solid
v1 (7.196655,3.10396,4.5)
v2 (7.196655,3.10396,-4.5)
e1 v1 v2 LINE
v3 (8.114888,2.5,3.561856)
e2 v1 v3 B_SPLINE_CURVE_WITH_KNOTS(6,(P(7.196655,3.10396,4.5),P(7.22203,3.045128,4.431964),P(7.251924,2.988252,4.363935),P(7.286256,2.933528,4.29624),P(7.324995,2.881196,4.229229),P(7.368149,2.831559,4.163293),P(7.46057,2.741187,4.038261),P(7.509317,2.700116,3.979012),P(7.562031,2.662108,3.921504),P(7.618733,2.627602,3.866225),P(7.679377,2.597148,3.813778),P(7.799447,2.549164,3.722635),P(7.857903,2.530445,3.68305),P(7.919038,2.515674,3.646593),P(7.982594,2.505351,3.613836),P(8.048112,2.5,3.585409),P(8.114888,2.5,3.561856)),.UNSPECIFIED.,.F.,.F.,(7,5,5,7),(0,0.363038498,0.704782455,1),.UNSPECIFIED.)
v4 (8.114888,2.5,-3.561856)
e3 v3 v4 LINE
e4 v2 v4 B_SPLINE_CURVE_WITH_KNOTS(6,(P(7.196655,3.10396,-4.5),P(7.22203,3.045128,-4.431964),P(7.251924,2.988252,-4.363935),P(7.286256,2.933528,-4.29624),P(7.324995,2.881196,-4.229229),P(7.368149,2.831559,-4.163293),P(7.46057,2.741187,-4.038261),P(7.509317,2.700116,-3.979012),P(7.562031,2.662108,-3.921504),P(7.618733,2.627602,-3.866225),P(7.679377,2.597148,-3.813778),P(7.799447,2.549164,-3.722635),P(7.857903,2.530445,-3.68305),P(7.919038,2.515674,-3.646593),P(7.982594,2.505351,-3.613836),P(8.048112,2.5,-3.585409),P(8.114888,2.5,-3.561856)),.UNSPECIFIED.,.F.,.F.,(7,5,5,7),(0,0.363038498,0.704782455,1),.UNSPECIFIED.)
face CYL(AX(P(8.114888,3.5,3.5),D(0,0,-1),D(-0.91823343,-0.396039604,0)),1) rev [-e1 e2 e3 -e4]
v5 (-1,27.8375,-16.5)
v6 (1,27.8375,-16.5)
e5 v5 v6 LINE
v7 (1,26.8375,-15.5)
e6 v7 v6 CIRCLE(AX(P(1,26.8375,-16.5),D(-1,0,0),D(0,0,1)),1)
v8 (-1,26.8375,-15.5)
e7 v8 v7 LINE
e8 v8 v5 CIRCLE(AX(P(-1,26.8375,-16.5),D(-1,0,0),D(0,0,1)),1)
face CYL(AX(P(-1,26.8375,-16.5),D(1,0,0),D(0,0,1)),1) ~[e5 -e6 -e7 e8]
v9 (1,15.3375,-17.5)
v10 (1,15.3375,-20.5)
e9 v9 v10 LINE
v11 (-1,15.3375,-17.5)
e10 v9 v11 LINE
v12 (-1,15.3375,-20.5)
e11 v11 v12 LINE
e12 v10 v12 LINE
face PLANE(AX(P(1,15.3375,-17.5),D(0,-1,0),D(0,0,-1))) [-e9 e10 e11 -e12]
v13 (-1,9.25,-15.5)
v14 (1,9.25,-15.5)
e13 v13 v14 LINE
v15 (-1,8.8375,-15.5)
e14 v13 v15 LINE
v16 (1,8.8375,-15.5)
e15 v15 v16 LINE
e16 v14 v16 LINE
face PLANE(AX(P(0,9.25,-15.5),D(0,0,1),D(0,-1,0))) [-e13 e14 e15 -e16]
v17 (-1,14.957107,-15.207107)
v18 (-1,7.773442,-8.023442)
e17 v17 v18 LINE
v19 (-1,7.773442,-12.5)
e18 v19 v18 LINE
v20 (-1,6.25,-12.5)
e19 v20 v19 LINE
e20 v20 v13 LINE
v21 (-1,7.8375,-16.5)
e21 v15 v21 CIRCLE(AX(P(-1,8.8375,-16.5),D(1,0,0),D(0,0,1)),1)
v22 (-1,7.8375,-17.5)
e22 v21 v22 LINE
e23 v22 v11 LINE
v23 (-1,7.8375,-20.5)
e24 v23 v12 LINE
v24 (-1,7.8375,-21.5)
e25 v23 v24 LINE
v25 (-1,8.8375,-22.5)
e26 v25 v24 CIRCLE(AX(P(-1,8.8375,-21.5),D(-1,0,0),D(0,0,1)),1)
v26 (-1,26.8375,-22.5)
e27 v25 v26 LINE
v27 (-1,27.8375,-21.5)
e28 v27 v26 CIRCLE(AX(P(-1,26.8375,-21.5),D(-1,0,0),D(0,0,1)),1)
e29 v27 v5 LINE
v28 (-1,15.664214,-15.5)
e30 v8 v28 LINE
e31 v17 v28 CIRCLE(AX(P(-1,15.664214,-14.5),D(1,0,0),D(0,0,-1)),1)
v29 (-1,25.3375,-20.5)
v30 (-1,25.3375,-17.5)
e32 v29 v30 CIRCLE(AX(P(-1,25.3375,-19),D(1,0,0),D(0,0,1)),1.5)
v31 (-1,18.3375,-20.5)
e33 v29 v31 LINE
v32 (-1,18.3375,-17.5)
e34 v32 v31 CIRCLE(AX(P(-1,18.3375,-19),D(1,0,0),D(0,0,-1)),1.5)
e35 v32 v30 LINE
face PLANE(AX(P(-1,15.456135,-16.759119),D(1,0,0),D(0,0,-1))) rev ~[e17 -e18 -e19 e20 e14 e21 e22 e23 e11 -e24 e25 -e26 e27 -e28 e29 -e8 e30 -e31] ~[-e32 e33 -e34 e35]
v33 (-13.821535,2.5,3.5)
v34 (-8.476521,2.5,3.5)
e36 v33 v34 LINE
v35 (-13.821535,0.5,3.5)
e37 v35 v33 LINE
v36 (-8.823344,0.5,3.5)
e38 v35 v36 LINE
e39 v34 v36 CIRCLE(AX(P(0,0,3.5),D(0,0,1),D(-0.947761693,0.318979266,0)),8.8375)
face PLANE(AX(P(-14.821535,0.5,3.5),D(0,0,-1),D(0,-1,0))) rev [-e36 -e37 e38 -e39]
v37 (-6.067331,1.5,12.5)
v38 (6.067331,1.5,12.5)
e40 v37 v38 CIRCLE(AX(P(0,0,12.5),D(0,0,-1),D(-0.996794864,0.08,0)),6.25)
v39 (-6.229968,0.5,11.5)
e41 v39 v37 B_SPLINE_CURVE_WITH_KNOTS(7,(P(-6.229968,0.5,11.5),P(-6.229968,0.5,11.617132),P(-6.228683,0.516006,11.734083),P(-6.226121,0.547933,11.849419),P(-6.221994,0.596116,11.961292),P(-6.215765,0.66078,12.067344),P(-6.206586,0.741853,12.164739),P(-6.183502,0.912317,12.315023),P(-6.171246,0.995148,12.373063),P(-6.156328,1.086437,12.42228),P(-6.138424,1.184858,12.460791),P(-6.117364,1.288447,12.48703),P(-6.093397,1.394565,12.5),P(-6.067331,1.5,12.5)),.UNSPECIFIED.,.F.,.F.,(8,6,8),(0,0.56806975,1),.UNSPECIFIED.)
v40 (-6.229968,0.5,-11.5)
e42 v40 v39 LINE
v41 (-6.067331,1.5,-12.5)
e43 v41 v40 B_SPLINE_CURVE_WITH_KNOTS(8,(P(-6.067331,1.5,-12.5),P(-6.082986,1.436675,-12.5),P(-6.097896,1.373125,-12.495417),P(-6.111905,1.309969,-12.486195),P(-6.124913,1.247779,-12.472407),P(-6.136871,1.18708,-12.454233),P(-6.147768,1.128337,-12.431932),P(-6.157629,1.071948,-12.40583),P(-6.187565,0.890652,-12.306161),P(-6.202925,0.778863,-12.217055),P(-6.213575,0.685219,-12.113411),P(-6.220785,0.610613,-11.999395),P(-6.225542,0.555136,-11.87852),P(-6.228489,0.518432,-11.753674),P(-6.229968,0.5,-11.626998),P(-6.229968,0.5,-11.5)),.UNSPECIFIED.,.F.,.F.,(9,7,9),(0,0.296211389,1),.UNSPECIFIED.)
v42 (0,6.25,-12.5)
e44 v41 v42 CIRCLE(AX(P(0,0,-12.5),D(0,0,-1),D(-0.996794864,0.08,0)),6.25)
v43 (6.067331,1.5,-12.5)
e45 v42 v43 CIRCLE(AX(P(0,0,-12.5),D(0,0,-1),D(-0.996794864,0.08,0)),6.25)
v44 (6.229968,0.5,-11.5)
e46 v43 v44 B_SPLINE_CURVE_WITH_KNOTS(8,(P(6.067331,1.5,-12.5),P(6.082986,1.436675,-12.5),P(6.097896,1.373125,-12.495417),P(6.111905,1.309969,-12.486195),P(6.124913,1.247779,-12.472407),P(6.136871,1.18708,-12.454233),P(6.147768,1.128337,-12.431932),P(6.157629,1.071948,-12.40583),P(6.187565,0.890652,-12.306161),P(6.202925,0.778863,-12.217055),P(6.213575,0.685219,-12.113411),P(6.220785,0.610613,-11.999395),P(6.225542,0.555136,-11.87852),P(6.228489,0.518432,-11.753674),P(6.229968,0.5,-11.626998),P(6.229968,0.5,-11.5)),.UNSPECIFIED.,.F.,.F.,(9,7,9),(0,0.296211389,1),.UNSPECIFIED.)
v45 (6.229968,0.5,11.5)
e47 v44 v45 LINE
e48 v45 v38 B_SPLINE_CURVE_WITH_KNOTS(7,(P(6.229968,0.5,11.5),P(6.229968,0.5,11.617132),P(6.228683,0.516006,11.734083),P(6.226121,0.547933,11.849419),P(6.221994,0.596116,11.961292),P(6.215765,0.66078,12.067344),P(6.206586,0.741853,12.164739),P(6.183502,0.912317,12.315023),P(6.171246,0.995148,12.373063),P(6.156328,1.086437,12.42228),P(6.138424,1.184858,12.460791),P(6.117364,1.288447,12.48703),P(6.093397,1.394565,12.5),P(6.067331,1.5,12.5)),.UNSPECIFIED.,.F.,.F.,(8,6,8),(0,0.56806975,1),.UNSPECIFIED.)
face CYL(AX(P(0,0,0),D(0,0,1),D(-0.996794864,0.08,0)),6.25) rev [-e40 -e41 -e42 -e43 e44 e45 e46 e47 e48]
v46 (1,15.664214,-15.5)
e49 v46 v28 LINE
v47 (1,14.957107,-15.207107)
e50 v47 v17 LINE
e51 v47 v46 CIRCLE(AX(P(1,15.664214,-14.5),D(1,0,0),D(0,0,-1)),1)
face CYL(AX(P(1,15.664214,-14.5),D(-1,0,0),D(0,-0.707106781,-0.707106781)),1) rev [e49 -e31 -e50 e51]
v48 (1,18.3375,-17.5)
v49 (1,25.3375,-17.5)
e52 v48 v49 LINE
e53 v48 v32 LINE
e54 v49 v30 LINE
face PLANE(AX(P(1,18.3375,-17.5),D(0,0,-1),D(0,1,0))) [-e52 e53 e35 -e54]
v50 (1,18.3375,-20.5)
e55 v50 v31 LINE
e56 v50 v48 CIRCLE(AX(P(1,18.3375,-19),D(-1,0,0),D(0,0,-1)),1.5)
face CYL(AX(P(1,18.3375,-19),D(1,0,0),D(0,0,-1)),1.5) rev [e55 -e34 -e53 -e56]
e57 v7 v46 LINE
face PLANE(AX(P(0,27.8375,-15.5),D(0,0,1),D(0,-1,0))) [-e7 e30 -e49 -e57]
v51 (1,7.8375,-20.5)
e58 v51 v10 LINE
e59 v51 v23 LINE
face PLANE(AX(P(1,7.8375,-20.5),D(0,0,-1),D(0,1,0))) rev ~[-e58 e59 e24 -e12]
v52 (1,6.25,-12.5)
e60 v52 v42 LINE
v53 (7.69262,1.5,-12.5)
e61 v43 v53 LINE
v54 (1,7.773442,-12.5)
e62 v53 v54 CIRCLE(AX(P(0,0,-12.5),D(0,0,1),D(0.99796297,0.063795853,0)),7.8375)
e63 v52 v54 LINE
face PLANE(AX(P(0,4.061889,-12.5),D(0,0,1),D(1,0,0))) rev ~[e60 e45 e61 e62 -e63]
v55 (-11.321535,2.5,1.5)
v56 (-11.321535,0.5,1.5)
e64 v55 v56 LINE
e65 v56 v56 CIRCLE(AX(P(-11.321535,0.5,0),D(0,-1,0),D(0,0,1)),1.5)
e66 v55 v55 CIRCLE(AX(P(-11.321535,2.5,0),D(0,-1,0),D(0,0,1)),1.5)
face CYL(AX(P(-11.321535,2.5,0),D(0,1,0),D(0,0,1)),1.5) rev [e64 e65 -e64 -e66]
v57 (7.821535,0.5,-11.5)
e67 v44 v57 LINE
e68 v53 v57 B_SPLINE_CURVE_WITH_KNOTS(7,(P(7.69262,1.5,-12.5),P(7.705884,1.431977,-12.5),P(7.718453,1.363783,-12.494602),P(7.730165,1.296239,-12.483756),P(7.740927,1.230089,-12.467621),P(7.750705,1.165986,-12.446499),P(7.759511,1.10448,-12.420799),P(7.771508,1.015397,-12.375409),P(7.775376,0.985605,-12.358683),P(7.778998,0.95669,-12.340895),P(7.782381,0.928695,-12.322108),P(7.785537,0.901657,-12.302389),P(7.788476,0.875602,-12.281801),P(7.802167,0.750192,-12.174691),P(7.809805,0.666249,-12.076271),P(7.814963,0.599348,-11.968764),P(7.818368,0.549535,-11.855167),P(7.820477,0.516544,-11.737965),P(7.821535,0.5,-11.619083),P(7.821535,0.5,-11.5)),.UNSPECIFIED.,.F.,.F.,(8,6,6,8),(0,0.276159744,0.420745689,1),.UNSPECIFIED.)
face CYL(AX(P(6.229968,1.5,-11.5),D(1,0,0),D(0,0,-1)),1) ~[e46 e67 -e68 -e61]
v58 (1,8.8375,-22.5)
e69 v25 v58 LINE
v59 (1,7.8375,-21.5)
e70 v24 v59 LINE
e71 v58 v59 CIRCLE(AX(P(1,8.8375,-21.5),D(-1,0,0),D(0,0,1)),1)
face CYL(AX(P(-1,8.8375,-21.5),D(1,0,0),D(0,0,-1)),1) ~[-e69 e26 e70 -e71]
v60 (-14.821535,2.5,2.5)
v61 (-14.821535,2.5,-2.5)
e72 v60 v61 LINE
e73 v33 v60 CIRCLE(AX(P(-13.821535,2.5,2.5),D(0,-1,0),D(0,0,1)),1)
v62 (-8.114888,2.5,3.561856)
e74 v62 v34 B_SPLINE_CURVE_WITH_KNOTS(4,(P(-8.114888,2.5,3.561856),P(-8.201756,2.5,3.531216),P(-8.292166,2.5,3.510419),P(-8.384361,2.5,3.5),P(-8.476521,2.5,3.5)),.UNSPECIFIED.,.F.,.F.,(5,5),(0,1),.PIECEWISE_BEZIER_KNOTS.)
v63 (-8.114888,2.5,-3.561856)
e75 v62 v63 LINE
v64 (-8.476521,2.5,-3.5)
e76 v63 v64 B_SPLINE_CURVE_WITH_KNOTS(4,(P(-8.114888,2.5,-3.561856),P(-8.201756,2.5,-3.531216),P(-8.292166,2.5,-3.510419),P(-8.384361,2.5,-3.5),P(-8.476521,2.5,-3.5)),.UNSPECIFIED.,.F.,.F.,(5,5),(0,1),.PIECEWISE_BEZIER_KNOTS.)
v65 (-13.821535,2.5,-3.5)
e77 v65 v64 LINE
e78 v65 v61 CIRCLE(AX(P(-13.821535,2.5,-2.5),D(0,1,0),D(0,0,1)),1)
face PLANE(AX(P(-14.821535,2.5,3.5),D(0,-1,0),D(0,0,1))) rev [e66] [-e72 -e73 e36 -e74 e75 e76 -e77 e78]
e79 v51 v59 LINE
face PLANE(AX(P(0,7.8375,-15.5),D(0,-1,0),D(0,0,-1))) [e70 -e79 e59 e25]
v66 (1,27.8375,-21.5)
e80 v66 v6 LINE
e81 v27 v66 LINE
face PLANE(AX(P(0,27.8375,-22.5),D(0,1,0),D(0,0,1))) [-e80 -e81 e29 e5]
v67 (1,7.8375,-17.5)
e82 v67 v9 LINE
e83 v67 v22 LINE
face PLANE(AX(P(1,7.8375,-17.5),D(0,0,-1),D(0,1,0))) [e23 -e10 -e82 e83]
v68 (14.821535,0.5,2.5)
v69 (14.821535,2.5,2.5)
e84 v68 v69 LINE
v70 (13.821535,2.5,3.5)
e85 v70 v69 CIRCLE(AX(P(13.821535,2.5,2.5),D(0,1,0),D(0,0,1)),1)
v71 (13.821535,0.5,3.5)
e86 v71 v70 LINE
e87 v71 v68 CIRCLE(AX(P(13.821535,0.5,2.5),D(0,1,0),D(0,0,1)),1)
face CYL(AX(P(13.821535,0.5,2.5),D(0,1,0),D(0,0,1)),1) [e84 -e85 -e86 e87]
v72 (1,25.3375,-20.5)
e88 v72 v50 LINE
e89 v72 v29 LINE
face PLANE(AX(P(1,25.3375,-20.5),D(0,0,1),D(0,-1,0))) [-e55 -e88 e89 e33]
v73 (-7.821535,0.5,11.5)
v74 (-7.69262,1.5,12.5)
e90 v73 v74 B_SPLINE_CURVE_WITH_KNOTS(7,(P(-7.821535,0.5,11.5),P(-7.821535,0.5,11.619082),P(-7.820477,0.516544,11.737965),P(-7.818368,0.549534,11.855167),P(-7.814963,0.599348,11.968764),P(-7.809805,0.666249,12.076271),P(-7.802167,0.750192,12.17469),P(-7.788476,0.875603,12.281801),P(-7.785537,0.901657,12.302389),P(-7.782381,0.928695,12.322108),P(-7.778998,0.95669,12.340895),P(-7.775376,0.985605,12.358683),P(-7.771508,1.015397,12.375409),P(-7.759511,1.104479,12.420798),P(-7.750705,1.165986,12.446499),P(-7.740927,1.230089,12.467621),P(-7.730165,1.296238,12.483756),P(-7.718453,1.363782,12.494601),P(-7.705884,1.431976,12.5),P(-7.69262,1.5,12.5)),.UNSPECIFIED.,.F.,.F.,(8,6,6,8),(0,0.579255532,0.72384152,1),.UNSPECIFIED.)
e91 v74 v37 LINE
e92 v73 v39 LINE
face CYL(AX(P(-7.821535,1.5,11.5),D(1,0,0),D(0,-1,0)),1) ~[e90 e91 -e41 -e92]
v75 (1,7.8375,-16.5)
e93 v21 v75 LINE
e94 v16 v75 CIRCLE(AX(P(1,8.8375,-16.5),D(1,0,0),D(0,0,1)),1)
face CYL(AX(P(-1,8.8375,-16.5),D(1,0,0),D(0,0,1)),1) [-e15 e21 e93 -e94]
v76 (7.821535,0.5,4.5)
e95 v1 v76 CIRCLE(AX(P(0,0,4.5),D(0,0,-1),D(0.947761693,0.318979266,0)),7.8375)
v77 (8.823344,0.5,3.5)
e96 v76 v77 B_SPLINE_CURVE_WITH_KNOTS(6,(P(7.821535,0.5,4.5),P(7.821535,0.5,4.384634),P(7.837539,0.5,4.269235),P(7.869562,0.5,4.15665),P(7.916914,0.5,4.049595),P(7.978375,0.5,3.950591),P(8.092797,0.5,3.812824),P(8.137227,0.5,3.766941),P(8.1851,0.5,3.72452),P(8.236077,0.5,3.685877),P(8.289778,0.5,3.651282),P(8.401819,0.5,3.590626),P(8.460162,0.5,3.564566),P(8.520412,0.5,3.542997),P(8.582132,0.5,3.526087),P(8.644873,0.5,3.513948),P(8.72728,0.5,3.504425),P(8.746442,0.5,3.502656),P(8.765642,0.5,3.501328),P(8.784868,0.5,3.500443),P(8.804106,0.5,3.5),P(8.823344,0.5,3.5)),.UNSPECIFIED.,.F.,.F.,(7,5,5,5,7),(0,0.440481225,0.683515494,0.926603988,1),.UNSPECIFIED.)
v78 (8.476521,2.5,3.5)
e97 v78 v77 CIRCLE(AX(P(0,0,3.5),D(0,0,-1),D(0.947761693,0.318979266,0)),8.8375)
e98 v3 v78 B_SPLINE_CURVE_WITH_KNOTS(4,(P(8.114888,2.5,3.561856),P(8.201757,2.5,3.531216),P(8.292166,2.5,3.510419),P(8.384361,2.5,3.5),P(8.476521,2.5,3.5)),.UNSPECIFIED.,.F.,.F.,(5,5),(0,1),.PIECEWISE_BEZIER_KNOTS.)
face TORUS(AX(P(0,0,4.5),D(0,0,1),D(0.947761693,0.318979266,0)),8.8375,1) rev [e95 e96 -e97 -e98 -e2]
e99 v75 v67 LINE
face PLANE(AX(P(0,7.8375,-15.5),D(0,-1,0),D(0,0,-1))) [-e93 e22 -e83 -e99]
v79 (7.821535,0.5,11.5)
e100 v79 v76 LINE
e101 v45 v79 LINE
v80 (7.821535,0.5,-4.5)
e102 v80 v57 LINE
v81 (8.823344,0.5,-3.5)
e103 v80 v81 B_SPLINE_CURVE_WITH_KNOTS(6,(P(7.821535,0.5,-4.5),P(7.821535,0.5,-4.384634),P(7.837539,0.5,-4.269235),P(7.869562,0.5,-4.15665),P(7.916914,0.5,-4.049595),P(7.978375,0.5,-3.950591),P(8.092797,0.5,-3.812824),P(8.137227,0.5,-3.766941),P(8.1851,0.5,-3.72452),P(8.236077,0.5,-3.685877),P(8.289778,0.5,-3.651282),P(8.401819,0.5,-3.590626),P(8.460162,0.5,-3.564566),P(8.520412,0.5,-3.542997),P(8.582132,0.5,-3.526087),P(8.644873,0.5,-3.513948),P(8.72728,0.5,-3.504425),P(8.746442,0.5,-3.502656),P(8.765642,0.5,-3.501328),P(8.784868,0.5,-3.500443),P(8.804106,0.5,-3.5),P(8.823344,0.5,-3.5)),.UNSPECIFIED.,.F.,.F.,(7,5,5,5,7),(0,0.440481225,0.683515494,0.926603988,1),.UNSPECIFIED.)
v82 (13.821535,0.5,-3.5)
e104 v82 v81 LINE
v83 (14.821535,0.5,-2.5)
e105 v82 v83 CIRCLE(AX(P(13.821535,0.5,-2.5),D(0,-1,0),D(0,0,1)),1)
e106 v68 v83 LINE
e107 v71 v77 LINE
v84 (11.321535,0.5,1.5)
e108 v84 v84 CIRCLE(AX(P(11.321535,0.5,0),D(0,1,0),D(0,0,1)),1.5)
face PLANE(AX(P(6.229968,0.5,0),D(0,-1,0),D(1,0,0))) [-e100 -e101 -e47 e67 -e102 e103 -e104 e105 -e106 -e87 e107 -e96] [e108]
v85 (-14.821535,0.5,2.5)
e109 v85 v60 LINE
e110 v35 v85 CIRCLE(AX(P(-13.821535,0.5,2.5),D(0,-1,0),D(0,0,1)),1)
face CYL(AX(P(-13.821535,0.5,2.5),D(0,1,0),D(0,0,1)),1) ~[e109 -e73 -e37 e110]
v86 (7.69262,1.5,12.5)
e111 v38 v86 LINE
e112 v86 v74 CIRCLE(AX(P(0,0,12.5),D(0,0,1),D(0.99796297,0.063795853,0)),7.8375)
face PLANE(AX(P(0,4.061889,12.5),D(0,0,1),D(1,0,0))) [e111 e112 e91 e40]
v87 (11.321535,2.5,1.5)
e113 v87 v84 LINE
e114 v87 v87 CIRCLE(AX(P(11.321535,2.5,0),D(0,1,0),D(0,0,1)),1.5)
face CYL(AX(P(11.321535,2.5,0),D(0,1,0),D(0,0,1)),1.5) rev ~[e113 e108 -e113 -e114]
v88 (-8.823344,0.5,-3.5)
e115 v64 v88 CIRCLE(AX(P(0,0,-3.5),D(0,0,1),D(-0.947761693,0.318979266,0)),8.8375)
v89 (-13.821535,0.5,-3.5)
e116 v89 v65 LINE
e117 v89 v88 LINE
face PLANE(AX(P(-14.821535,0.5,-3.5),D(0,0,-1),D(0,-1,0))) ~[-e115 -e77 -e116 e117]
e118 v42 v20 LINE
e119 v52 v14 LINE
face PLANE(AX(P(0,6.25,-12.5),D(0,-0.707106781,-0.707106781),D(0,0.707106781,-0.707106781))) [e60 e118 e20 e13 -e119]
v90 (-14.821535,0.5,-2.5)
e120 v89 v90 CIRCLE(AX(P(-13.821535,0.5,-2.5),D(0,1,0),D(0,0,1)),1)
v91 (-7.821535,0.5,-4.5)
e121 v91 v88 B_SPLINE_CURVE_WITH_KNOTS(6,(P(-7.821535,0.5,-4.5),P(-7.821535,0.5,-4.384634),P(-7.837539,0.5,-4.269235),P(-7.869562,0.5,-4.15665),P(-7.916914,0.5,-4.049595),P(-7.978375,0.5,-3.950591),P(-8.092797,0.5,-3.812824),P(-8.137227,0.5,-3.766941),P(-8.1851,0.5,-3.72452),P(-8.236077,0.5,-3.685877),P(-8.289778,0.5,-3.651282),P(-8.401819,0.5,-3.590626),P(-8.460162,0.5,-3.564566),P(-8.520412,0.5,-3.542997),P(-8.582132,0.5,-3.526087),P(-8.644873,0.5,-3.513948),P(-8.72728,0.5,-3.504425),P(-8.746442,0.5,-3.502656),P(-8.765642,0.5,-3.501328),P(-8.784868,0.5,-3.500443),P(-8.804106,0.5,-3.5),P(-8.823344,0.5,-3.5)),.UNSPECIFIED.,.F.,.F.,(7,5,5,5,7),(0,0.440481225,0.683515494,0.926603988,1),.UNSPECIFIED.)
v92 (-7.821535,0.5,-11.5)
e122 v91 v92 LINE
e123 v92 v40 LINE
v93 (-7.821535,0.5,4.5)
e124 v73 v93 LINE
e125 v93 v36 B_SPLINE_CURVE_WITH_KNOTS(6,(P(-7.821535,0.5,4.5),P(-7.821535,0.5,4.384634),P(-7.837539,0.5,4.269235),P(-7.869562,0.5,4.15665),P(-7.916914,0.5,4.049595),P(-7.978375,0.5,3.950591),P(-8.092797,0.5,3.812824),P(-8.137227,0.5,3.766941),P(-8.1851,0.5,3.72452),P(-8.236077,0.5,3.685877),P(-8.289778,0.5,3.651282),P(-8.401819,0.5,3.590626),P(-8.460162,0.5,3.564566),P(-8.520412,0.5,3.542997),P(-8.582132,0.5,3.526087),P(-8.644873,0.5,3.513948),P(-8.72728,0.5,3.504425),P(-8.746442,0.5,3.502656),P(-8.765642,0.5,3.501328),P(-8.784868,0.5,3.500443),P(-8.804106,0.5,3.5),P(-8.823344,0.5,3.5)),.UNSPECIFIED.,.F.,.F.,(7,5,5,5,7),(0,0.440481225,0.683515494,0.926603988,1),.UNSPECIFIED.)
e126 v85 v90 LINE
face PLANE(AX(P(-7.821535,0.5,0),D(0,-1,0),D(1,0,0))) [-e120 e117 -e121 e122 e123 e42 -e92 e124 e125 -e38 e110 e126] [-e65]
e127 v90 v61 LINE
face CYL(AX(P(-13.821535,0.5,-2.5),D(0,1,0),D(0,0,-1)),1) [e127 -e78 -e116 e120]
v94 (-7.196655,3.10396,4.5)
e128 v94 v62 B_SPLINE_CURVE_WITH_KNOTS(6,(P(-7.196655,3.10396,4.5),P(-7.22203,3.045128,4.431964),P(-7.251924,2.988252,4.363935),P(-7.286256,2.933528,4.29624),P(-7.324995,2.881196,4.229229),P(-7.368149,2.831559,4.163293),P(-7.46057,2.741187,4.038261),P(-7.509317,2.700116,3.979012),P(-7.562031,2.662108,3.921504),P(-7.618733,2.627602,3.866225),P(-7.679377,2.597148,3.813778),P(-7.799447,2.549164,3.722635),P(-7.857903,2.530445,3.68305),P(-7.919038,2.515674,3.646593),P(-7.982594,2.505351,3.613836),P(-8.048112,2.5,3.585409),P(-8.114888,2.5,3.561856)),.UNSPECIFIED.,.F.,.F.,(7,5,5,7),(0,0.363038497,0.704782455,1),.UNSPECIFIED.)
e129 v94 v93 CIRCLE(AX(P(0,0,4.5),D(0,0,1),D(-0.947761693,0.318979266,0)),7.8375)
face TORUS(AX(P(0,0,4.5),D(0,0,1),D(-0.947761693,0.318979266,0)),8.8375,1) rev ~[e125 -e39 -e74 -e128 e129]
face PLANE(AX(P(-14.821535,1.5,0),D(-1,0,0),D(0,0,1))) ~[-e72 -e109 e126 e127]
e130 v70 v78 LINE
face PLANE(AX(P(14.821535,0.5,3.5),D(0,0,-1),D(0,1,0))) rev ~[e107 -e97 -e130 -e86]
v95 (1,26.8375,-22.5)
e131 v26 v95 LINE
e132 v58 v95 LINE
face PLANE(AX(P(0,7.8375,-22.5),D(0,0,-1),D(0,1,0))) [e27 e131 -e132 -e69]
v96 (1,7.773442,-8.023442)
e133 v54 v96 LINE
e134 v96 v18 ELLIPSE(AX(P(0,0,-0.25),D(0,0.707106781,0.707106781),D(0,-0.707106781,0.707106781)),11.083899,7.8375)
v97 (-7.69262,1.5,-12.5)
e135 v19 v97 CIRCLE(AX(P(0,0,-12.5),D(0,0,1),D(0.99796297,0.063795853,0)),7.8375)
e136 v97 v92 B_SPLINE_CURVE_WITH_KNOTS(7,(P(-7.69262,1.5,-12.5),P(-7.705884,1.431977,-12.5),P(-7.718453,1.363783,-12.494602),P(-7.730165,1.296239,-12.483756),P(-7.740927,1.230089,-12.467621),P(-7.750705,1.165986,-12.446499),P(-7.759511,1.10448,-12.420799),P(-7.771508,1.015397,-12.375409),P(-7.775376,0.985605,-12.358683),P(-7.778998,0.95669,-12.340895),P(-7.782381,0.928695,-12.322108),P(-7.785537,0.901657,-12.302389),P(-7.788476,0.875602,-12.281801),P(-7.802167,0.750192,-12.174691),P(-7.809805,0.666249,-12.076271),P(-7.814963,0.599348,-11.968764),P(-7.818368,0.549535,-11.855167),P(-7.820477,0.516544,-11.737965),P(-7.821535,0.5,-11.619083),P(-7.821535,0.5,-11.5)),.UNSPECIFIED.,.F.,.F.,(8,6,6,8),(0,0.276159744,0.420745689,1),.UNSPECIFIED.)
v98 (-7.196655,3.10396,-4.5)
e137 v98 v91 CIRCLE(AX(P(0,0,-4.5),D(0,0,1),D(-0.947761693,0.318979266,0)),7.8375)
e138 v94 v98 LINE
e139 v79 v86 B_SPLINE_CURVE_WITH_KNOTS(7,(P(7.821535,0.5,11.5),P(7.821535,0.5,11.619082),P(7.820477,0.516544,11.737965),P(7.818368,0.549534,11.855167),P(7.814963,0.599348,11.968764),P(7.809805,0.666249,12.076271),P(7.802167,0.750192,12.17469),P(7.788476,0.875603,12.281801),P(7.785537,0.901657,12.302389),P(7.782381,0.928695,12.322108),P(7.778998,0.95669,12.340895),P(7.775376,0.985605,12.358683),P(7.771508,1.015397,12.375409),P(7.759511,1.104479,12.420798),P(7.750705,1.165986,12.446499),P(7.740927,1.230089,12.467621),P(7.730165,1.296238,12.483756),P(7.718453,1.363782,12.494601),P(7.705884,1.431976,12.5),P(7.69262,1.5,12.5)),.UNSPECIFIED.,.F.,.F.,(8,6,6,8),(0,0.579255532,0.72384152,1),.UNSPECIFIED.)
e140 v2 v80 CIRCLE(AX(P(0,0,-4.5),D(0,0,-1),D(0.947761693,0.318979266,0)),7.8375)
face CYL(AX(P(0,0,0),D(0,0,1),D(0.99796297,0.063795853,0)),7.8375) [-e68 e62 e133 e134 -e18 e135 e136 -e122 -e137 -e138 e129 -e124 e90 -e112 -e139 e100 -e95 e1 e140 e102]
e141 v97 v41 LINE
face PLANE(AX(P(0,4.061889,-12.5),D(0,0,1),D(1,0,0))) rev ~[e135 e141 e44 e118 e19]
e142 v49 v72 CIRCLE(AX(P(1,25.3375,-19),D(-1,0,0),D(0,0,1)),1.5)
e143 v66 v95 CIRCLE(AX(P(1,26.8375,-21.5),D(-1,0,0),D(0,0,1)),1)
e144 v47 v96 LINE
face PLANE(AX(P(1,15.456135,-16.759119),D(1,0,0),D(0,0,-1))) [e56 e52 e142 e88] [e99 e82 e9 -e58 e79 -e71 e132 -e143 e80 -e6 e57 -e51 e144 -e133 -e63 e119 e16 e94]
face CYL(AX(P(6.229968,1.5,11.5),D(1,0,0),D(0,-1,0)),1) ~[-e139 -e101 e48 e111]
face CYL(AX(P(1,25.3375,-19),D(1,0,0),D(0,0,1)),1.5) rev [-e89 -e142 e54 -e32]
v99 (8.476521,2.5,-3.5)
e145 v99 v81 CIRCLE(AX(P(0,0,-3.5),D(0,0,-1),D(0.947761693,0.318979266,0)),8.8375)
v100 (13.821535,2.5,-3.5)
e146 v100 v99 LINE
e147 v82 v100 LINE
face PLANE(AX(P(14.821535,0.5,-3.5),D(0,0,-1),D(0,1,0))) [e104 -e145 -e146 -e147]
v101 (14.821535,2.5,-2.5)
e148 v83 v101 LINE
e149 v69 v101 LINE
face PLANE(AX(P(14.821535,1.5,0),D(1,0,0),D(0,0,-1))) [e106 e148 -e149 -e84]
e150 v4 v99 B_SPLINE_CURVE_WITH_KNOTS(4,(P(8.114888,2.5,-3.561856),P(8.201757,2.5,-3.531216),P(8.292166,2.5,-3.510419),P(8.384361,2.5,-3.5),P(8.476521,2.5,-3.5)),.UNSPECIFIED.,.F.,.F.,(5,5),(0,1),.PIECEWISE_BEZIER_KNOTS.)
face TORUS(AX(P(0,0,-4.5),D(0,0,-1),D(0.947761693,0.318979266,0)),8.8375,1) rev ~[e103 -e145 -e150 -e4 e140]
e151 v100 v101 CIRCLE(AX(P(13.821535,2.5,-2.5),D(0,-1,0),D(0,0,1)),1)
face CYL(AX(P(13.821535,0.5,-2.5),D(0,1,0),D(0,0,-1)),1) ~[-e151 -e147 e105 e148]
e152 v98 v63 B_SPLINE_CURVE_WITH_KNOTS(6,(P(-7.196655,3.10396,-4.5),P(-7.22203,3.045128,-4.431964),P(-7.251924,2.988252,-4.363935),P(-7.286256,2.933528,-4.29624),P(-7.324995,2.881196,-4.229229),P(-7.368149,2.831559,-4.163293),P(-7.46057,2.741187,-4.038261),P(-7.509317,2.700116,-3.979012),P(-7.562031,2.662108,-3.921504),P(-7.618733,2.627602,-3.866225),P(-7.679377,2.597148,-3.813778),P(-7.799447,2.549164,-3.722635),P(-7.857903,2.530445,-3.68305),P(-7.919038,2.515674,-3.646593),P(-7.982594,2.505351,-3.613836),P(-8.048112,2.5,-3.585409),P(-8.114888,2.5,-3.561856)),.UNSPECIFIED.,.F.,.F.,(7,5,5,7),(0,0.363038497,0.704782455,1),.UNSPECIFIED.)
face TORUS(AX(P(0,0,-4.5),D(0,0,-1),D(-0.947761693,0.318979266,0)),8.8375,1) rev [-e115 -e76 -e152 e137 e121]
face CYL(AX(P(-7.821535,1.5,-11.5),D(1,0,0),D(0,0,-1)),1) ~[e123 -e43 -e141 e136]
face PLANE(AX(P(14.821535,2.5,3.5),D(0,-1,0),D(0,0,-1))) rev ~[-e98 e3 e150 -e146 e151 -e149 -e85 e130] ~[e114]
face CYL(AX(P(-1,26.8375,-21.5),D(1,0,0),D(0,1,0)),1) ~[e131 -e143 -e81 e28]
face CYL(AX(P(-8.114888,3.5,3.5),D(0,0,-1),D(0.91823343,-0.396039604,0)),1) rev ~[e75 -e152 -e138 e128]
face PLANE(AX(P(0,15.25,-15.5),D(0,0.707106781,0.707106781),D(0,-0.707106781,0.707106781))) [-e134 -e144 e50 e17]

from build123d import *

# Parameters (mm, degrees)
BOSS_EXTRUDE1_DEPTH      = 12.5
BOSS_EXTRUDE3_REACH      = 29.026
BOSS_EXTRUDE3_END_RADIUS = 7.8375
SKETCH5_W                = 7
SKETCH5_H                = 2
SKETCH6_R                = 1.5
CUT_EXTRUDE2_DEPTH       = 2
FILLET2_R                = 1
FILLET2_OF_MIRROR2_R     = 1
BOSS_EXTRUDE4_DEPTH      = 1
SKETCH11_W               = 3
SKETCH11_H               = 7.5
CUT_EXTRUDE4_DEPTH       = 40.134350283
FILLET3_R                = 1


with BuildPart() as part:
    # Sketch1 → Boss-Extrude1 (new, symmetric)
    with BuildSketch(Plane.XY):
        with BuildLine():
            Line((-7.821534776, 0.5), (-6.229967897, 0.5))
            ThreePointArc((-6.229967897, 0.5), (0, 6.25), (6.229967897, 0.5))
            Line((6.229967897, 0.5), (7.821534776, 0.5))
            ThreePointArc((7.821534776, 0.5), (0, 7.8375), (-7.821534776, 0.5))
        make_face()
    extrude(amount=BOSS_EXTRUDE1_DEPTH, both=True)

    # Boss-Extrude3: up to this cylinder (the profile starts outside it)
    boss_extrude3_end = Plane(origin=(0, 0, 0), z_dir=(0, 0, -1)) * Cylinder(BOSS_EXTRUDE3_END_RADIUS, 74.727, mode=Mode.PRIVATE)
    # Sketch5 → Boss-Extrude3 (add, up to the surface)
    with BuildSketch(Plane(origin=(14.821534776, 0, 0), x_dir=(0, 0, -1), z_dir=(1, 0, 0)), mode=Mode.PRIVATE) as boss_extrude3_sk1:
        with Locations((0, 1.5)):
            Rectangle(SKETCH5_W, SKETCH5_H)
    boss_extrude3_tool1 = extrude(boss_extrude3_sk1.sketch, amount=-BOSS_EXTRUDE3_REACH, mode=Mode.PRIVATE) - boss_extrude3_end
    boss_extrude3 = boss_extrude3_tool1.solids().sort_by_distance((14.821535, 1.5, 0))[0]
    add(boss_extrude3)

    # Sketch6 → Cut-Extrude2 (cut)
    with BuildSketch(Plane(origin=(0, 2.5, 0), x_dir=(1, 0, 0), z_dir=(0, 1, 0))):
        with Locations(Location((11.321534776, 0, 0), (0, 0, 270))):
            Circle(SKETCH6_R)
    cut_extrude2 = extrude(amount=-CUT_EXTRUDE2_DEPTH, mode=Mode.SUBTRACT)

    # Fillet2
    fillet2_edges = [part.edges().sort_by_distance(p)[0] for p in [
        (14.821534776, 1.5, 3.5),
        (14.821534776, 1.5, -3.5),
        (7.690104358, 1.512845405, -3.5),
        (7.428082273, 2.5, 0),
        (7.690104358, 1.512845405, 3.5),
    ]]
    fillet(fillet2_edges, radius=FILLET2_R)

    # Mirror2: Boss-Extrude3, Cut-Extrude2 across plane
    add(boss_extrude3.mirror(Plane(origin=(0, 0, 0), x_dir=(0, 0, 1), z_dir=(1, 0, 0))))
    add(cut_extrude2.mirror(Plane(origin=(0, 0, 0), x_dir=(0, 0, 1), z_dir=(1, 0, 0))), mode=Mode.SUBTRACT)

    # Fillet2 of Mirror2
    fillet2_of_mirror2_edges = [part.edges().sort_by_distance(p)[0] for p in [
        (-14.821534776, 1.5, 3.5),
        (-14.821534776, 1.5, -3.5),
        (-7.690104358, 1.512845405, -3.5),
        (-7.428082273, 2.5, 0),
        (-7.690104358, 1.512845405, 3.5),
    ]]
    fillet(fillet2_of_mirror2_edges, radius=FILLET2_OF_MIRROR2_R)

    # Sketch8 → Boss-Extrude4 (add, symmetric)
    with BuildSketch(Plane(origin=(0, 0, 0), x_dir=(0, 0, -1), z_dir=(1, 0, 0))):
        Polygon((12.5, 6.25), (15.5, 9.25), (15.5, 7.8375), (22.5, 7.8375), (22.5, 27.8375), (15.5, 27.8375), (15.5, 15.25), (6.5, 6.25), align=None)
    extrude(amount=BOSS_EXTRUDE4_DEPTH, both=True)

    # Sketch11 → Cut-Extrude4 (cut, through all)
    with BuildSketch(Plane(origin=(1, 0, 0), x_dir=(0, 0, -1), z_dir=(1, 0, 0))):
        with BuildLine():
            Line((20.5, 25.3375), (20.5, 18.3375))
            ThreePointArc((20.5, 18.3375), (19, 16.8375), (17.5, 18.3375))
            Line((17.5, 18.3375), (17.5, 25.3375))
            ThreePointArc((17.5, 25.3375), (19, 26.8375), (20.5, 25.3375))
        make_face()
        with Locations((19, 11.5875)):
            Rectangle(SKETCH11_W, SKETCH11_H)
    extrude(amount=-CUT_EXTRUDE4_DEPTH, mode=Mode.SUBTRACT)

    # Fillet3
    fillet3_edges = [part.edges().sort_by_distance(p)[0] for p in [
        (0, 15.25, -15.5),
        (0, 7.8375, -15.5),
        (0, 7.8375, -22.5),
        (0, 27.8375, -22.5),
        (0, 27.8375, -15.5),
        (-7.025751337, 0.5, 12.5),
        (-7.025751337, 0.5, -12.5),
        (7.025751337, 0.5, -12.5),
        (7.025751337, 0.5, 12.5),
    ]]
    fillet(fillet3_edges, radius=FILLET3_R)


solid = part.part
